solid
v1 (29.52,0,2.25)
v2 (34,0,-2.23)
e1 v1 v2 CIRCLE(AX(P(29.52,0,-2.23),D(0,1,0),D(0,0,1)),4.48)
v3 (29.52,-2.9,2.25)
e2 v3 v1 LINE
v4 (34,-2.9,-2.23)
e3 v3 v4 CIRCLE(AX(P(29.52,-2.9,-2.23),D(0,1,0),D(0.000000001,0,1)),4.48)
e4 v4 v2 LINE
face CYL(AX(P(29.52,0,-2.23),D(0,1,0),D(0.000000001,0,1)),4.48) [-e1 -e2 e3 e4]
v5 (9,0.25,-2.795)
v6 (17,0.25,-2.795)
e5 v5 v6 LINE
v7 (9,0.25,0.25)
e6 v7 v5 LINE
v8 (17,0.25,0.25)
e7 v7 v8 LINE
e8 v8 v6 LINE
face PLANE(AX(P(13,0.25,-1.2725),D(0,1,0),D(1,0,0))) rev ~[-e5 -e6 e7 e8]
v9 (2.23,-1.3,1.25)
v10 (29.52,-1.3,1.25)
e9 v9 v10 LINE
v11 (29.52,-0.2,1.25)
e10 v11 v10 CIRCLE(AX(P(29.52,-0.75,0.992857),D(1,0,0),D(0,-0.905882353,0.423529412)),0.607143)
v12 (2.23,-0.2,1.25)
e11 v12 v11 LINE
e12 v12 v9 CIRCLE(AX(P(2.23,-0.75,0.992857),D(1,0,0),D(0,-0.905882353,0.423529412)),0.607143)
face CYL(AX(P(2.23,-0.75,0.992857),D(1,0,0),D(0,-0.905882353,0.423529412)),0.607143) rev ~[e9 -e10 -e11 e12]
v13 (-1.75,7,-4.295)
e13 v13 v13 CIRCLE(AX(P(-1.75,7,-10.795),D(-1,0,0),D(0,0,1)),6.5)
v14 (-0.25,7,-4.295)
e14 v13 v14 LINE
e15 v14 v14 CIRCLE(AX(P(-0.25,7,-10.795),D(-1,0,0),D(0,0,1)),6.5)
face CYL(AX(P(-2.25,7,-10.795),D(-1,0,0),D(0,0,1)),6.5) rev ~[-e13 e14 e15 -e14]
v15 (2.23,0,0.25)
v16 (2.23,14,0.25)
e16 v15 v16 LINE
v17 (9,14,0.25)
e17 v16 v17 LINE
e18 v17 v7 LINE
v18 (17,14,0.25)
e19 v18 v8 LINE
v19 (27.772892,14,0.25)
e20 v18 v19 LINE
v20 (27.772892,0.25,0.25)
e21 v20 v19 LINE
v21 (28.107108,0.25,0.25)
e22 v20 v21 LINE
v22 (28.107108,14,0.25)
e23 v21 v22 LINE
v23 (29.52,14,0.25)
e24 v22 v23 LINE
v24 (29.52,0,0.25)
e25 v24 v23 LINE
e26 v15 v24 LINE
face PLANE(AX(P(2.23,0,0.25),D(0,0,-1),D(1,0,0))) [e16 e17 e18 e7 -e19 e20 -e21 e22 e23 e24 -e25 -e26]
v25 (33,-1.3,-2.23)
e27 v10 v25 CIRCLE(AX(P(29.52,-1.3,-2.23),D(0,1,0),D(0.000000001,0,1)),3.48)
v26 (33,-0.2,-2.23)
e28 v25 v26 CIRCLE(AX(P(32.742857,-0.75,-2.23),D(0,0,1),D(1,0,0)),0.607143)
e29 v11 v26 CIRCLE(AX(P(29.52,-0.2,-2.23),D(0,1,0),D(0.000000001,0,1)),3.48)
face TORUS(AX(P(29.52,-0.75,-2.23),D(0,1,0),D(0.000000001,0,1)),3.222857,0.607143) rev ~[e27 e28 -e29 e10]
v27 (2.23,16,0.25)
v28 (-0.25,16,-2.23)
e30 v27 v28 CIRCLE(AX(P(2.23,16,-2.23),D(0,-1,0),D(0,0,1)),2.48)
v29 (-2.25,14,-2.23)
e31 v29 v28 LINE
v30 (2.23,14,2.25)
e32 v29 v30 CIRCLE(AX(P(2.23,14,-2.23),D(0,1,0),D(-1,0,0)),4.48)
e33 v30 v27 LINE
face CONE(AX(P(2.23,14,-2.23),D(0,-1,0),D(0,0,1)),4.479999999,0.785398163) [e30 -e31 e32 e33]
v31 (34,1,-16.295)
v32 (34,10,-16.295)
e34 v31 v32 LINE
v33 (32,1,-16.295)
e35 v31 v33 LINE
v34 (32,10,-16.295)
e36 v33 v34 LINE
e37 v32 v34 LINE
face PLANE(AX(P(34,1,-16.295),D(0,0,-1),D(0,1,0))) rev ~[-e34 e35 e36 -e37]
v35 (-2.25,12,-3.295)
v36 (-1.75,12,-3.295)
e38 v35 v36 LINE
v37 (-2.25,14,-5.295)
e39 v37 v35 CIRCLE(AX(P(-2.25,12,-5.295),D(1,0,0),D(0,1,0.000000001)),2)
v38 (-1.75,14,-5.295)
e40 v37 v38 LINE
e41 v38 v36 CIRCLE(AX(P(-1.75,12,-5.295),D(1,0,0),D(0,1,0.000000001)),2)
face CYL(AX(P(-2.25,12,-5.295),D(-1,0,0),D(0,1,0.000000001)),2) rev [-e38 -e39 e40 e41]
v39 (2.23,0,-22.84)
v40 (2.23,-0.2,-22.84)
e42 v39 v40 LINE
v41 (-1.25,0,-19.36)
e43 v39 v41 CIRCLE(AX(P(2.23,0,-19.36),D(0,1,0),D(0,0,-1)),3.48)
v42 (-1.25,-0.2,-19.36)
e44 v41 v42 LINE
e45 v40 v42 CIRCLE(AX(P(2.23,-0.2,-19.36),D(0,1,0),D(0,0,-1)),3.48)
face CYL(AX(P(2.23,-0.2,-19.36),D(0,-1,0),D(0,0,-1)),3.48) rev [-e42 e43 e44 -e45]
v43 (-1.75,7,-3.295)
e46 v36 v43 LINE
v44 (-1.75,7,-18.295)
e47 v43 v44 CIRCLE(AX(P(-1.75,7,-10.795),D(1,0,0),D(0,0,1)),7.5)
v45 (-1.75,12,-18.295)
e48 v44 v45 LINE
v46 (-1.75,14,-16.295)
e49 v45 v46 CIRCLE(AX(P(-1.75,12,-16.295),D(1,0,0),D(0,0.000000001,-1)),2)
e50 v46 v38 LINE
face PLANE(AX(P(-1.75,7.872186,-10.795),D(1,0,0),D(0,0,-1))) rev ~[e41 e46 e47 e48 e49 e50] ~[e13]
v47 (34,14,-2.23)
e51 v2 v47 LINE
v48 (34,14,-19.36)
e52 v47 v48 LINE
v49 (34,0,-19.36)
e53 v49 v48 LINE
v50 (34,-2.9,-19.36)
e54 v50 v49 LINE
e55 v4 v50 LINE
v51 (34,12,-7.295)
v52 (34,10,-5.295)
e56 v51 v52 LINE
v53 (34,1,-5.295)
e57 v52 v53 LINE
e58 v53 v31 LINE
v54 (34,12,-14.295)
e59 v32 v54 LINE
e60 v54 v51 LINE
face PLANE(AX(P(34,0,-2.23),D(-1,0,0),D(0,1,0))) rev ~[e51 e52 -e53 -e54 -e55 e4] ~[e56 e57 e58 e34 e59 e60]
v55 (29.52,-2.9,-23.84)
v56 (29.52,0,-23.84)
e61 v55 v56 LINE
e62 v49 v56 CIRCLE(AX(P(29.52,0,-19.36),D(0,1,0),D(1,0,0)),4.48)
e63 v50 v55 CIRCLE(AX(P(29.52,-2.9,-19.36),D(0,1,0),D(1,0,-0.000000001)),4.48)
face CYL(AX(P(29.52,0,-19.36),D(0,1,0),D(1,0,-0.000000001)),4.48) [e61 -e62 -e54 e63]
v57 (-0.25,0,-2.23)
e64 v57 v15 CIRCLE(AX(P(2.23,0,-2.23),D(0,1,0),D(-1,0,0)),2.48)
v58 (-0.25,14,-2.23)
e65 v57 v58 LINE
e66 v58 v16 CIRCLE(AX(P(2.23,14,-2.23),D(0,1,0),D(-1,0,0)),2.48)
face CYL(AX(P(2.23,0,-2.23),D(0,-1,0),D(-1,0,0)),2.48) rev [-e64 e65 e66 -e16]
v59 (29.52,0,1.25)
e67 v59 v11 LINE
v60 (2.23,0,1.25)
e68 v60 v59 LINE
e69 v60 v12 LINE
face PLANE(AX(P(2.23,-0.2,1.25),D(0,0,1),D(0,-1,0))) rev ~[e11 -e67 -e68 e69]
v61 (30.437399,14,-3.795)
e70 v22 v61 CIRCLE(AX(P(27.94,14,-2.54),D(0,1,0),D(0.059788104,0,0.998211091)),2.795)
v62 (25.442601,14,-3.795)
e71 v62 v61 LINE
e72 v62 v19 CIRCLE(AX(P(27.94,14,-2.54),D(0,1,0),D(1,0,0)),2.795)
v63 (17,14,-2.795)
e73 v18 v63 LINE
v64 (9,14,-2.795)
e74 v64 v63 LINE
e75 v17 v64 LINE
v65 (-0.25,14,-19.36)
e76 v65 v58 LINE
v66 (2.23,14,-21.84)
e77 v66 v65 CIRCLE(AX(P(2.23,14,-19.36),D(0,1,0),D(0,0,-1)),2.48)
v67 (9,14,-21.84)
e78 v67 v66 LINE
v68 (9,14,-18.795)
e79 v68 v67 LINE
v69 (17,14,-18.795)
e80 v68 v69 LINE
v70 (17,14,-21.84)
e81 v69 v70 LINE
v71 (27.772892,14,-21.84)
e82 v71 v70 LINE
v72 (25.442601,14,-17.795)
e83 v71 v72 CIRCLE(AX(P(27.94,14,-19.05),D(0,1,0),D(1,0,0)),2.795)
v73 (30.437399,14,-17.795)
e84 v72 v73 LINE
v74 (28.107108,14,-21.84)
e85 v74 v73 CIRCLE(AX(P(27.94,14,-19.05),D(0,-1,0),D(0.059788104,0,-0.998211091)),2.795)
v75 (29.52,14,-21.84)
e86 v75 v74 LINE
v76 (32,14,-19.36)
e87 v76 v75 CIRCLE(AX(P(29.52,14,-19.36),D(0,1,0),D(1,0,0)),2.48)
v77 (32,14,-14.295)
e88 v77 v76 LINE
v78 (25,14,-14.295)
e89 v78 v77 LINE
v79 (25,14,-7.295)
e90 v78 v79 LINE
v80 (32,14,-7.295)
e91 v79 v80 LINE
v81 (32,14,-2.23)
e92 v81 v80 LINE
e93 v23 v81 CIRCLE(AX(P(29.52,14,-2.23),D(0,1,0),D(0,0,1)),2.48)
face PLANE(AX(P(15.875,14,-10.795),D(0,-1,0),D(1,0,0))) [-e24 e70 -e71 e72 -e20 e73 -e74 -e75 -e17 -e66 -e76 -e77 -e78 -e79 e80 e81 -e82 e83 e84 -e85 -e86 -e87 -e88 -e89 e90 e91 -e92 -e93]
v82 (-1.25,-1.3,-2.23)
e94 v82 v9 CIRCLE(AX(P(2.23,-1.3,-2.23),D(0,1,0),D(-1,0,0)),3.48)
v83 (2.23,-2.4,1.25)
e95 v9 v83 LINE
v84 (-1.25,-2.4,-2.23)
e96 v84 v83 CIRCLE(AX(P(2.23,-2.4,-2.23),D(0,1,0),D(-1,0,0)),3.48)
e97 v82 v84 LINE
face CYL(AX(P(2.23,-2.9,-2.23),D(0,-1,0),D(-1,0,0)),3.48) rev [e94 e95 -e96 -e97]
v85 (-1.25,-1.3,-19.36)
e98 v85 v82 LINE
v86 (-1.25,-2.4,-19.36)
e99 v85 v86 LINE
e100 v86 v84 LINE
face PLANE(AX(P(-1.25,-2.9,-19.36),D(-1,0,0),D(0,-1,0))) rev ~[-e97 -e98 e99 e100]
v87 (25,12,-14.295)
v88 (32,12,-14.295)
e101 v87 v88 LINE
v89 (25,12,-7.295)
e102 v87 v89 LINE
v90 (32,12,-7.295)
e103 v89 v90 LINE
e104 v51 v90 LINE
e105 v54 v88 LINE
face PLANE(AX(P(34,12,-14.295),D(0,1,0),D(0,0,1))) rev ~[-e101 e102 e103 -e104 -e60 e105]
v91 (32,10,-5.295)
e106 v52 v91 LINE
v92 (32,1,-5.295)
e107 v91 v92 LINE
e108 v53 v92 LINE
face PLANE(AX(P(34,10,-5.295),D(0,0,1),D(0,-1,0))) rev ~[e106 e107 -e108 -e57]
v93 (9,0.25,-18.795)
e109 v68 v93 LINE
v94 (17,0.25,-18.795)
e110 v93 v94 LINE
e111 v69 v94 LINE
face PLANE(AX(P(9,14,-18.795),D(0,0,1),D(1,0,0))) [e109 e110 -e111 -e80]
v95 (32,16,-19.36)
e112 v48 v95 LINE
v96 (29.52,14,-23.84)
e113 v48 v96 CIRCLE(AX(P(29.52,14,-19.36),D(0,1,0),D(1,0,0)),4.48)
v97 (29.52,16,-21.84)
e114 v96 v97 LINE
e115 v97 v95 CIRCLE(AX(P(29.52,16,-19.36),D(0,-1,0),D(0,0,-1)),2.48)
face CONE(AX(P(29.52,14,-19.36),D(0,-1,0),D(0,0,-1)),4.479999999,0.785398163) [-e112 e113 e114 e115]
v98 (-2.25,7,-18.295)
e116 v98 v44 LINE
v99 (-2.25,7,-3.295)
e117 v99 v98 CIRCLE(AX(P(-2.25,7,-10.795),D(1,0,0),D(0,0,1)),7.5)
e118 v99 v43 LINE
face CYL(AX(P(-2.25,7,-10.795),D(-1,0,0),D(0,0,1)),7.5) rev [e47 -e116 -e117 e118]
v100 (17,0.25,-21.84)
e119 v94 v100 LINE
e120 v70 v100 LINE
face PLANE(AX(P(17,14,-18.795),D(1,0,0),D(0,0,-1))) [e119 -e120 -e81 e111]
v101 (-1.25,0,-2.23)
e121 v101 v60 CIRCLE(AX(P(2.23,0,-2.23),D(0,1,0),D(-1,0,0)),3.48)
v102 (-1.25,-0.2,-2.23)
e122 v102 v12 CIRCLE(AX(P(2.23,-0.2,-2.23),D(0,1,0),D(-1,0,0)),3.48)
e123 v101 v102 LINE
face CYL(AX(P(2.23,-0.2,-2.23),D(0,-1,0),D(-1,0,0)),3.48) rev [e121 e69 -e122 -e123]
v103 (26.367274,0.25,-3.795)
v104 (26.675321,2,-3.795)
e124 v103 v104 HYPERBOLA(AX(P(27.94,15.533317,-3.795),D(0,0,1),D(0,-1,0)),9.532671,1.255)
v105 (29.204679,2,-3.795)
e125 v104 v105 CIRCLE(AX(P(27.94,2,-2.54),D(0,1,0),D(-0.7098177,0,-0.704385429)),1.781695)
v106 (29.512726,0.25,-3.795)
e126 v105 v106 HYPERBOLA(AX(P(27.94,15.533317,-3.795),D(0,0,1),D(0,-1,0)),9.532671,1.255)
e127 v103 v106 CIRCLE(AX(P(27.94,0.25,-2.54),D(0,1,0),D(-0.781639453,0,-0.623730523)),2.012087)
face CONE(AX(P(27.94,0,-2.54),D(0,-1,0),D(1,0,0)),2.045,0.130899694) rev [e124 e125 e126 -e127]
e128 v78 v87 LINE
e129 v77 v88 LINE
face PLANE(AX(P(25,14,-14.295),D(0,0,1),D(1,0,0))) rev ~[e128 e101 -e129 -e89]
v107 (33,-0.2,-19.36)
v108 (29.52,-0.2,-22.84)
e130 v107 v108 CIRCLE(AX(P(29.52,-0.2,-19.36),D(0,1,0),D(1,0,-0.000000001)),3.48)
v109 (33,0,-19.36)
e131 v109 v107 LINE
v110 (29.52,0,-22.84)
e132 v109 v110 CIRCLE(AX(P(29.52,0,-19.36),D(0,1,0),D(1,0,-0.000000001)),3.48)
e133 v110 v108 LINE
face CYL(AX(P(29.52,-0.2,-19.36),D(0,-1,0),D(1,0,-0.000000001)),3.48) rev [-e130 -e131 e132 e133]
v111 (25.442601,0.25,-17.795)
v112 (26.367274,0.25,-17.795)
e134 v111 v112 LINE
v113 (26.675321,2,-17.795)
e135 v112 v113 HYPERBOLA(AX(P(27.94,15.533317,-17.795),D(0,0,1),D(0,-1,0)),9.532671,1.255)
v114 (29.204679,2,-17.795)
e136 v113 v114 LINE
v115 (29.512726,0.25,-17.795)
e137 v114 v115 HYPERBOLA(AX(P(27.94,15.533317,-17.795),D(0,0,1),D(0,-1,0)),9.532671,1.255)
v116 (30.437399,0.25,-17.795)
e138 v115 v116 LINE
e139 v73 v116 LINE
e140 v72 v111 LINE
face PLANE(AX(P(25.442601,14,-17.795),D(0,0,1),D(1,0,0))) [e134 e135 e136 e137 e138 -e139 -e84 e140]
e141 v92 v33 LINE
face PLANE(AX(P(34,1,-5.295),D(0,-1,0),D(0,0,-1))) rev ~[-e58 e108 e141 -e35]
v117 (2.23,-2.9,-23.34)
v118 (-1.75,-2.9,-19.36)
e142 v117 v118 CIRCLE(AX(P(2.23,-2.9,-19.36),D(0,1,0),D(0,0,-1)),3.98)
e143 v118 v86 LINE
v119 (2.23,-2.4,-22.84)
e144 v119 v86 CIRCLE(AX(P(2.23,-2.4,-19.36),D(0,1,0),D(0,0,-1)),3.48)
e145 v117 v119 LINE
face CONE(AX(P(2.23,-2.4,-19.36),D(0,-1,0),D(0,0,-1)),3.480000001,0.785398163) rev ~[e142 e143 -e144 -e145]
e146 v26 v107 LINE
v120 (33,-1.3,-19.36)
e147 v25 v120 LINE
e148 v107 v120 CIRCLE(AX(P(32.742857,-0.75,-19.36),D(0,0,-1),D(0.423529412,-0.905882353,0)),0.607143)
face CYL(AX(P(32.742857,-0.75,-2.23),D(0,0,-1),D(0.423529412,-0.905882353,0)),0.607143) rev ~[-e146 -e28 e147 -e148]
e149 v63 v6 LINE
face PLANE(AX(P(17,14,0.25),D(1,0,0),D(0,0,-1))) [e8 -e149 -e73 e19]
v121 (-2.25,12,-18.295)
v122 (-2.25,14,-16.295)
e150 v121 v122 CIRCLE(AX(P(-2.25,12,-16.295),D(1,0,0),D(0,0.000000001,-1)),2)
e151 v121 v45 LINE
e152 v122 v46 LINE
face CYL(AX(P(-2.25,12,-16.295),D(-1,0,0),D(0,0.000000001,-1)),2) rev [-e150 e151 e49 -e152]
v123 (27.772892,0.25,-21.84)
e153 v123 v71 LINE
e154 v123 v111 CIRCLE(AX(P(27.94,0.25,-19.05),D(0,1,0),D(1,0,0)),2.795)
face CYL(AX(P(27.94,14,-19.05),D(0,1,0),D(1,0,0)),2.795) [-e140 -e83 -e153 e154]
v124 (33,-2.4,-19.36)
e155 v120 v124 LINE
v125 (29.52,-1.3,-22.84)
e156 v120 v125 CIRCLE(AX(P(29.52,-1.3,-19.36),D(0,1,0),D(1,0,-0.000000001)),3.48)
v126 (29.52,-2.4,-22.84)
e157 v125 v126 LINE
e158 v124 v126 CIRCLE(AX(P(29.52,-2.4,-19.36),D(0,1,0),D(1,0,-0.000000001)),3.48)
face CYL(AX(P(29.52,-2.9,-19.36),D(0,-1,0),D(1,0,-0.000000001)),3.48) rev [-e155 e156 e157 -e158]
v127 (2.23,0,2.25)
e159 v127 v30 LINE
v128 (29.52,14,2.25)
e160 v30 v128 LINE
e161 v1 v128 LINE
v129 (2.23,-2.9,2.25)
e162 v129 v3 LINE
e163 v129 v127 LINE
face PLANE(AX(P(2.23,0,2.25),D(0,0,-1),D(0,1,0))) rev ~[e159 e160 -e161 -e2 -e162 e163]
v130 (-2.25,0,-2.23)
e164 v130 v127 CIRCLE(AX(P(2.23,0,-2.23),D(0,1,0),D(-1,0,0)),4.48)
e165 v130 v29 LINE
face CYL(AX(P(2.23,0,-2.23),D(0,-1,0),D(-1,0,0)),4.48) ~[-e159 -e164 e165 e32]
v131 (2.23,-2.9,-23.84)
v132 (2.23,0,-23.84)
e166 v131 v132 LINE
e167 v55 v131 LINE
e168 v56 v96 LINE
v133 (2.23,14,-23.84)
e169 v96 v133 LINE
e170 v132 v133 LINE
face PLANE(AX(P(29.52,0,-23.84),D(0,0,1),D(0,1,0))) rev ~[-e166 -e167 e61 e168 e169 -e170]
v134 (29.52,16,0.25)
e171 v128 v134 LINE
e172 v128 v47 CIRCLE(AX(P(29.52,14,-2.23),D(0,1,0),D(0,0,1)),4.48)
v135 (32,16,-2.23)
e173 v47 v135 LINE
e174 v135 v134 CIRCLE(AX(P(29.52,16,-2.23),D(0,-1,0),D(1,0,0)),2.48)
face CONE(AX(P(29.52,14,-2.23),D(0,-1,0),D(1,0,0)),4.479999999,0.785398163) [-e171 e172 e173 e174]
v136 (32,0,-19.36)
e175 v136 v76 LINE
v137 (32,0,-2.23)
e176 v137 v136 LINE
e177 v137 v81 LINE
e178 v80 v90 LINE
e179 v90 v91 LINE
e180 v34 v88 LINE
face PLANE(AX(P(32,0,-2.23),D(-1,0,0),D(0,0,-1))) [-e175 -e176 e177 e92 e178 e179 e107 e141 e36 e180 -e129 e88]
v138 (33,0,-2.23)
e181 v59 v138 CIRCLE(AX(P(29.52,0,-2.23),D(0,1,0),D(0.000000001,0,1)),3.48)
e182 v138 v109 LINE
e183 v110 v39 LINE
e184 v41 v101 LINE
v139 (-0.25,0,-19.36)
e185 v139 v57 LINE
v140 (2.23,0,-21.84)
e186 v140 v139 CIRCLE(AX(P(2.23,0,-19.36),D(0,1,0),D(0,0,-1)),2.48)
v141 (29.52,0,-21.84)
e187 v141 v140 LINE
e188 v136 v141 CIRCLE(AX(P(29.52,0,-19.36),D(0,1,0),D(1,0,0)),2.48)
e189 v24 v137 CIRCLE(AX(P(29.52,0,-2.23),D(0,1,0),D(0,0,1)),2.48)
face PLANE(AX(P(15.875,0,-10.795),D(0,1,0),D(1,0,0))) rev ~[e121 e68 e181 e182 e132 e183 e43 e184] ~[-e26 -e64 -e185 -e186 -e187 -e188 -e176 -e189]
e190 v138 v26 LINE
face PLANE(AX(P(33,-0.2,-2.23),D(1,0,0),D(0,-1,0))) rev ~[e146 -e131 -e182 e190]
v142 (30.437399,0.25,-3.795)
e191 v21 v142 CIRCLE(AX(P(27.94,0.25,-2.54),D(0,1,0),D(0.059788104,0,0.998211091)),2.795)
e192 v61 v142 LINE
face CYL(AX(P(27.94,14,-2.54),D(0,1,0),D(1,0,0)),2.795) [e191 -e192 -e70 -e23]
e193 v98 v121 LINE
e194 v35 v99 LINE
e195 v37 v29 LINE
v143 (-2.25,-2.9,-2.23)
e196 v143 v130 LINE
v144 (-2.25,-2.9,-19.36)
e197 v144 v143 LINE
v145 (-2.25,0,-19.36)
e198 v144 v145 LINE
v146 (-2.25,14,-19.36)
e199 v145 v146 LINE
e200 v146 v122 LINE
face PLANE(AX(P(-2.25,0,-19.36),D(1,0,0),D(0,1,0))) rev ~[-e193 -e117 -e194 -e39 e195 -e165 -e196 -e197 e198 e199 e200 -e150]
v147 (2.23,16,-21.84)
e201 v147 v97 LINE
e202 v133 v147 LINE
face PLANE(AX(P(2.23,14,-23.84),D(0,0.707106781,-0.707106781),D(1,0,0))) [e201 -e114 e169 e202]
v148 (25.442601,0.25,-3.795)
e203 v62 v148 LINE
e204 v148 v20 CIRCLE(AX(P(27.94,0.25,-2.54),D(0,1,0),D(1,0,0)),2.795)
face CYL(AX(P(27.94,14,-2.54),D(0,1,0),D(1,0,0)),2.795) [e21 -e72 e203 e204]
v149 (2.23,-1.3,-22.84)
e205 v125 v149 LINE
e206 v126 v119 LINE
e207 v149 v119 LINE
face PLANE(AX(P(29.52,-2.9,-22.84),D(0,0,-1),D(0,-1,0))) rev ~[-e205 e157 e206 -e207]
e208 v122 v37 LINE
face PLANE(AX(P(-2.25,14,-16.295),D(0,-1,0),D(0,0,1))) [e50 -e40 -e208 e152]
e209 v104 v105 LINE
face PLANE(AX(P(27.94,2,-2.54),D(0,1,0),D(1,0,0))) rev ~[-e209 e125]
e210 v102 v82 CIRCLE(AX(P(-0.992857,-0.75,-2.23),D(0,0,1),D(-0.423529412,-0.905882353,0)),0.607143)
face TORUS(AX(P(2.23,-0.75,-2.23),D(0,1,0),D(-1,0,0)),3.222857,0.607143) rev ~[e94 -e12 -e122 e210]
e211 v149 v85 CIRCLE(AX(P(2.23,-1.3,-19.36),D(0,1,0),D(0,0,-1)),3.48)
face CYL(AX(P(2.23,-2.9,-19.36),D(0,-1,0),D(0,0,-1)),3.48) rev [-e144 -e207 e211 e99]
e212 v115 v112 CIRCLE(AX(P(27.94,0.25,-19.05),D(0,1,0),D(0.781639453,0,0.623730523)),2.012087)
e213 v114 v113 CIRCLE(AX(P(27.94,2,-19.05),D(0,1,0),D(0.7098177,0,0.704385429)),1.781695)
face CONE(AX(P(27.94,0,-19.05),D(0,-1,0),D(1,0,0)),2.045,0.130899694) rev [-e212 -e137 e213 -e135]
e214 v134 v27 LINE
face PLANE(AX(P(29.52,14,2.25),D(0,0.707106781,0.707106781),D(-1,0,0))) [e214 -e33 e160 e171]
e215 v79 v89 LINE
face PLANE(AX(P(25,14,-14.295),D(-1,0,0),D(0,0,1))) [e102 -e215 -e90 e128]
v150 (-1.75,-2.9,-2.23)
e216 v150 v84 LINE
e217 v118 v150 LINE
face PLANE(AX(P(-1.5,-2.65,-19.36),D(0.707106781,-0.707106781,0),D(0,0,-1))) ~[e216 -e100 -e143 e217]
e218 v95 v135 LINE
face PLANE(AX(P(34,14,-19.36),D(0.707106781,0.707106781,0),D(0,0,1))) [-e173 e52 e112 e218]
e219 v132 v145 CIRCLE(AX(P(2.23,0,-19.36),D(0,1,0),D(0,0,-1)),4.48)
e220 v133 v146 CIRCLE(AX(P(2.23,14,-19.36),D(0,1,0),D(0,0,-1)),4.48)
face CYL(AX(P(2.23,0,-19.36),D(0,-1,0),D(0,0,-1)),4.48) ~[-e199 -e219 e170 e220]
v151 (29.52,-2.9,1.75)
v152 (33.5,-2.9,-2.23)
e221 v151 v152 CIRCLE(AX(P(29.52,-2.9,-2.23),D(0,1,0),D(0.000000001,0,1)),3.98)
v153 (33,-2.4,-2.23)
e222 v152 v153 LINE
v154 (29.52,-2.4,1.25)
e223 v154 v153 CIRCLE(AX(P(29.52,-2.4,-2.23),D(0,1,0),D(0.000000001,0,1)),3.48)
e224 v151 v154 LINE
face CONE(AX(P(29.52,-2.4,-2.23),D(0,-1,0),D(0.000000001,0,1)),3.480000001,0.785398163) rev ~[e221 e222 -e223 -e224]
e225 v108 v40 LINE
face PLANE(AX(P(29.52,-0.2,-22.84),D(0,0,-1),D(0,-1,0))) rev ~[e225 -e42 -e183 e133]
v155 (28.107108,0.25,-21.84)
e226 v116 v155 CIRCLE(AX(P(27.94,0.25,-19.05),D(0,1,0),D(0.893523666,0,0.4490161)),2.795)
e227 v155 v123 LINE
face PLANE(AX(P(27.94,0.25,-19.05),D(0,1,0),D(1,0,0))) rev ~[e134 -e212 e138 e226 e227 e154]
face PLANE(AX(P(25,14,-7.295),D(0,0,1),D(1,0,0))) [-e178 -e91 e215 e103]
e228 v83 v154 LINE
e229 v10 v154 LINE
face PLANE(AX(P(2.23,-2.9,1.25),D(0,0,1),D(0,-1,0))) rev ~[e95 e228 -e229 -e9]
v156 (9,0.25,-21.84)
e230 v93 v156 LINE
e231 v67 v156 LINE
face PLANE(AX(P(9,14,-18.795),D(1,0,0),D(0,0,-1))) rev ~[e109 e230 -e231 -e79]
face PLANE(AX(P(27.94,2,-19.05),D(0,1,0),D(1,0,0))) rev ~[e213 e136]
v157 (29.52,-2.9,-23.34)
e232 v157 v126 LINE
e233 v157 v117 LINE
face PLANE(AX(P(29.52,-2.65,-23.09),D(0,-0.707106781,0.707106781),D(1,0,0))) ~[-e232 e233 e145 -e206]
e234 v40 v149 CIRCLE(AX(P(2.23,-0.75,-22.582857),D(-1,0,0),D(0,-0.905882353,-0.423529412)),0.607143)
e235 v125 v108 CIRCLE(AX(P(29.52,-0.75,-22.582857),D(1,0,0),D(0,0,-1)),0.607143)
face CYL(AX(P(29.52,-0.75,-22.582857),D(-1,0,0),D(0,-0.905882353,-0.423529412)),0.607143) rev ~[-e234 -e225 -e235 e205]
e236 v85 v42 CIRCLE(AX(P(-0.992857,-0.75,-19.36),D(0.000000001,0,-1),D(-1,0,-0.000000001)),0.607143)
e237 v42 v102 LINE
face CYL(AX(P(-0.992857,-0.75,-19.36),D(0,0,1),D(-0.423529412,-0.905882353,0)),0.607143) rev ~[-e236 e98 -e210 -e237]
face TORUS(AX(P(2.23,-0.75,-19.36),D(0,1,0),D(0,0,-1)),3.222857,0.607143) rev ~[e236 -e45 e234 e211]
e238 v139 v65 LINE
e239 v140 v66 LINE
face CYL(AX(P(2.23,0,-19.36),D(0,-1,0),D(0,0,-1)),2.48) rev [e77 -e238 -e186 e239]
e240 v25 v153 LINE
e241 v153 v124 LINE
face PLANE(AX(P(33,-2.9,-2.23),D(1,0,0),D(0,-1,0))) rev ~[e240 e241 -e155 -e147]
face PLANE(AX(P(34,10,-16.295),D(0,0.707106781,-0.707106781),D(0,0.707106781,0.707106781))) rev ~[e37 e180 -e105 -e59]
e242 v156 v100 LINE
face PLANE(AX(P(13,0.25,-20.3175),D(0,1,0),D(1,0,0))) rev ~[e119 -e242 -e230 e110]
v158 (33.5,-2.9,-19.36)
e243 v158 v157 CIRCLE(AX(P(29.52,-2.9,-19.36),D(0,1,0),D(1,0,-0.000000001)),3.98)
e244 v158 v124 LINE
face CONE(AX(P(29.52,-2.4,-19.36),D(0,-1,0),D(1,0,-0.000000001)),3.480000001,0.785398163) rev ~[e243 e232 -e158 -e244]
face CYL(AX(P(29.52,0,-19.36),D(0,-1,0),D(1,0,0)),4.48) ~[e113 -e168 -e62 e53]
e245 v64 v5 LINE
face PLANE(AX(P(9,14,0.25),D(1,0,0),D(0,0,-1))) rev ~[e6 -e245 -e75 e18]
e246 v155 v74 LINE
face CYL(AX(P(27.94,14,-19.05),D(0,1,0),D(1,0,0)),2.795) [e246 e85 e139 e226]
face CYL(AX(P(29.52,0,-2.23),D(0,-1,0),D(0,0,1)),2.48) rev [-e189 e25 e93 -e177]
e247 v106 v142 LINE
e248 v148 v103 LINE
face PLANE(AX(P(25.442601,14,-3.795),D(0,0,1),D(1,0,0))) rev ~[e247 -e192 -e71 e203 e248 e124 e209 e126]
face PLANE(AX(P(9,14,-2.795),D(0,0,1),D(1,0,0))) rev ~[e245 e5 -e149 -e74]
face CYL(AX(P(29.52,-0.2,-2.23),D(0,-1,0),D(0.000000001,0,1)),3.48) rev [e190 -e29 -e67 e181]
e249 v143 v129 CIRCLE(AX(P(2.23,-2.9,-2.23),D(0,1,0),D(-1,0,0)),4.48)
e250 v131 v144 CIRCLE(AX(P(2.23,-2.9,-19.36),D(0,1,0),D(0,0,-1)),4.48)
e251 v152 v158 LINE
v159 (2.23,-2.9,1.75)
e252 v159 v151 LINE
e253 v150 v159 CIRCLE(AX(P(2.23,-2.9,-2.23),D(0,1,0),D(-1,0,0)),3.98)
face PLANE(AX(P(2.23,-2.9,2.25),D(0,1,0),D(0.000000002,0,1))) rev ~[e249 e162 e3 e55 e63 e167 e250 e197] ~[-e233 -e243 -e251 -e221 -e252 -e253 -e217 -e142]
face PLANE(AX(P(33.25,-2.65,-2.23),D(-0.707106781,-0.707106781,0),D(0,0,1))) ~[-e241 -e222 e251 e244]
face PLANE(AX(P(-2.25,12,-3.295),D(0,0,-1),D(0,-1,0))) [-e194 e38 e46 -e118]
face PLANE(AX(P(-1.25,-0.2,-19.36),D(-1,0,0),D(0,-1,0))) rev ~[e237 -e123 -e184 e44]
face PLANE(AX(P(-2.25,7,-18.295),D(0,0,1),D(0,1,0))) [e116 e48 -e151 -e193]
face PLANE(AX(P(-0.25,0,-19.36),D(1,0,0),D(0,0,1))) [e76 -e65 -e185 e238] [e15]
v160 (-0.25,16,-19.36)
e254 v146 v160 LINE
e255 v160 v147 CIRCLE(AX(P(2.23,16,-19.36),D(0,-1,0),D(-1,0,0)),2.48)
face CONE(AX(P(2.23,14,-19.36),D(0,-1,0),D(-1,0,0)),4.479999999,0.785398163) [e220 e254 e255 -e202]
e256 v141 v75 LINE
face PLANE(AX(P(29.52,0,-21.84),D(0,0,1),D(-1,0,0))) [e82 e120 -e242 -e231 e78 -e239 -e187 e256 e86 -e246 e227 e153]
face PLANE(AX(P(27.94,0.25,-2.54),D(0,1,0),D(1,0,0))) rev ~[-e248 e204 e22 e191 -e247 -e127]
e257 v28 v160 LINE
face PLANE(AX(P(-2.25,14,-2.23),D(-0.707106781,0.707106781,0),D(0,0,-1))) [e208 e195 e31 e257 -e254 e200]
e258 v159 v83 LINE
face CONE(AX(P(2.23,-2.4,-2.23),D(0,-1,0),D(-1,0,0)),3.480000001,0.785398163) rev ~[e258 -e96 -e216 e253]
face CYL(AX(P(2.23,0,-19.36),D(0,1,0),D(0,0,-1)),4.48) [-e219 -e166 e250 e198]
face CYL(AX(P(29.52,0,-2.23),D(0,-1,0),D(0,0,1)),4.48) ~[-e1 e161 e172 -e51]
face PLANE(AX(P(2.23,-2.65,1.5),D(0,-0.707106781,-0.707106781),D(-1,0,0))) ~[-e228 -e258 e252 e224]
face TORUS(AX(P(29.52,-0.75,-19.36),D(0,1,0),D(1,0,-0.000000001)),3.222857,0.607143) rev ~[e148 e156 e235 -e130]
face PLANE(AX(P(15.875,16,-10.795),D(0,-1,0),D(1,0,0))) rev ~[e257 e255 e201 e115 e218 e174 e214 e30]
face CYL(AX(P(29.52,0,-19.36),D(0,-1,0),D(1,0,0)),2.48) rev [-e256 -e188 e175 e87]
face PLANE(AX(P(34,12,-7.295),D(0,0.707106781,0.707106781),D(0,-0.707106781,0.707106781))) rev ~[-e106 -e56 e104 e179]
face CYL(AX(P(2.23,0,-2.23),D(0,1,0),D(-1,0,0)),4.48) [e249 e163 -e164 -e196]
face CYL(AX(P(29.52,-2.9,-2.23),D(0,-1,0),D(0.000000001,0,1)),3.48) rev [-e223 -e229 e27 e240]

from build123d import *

# Parameters (mm, degrees)
MAIN_EXTRUSION_DEPTH             = 14
TAPERED_BOTTOM_DEPTH             = 2
TAPERED_BOTTOM_DRAFT             = -45
SKETCH4_R                        = 2.795
SKETCH4_W                        = 8
SKETCH4_H                        = 3.045
PCB_SUPPORT_DEPTH                = 13.75
SKETCH5_R                        = 2.045
GUIDE_PIN_CUTOUT_DEPTH           = 2
GUIDE_PIN_CUTOUT_DRAFT           = 7.5
GUIDE_PIN_CUTOUT_PROFILE_2_DEPTH = 2
GUIDE_PIN_CUTOUT_PROFILE_2_DRAFT = 7.5
SKETCH12_W                       = 4.994797294
SKETCH12_H                       = 14
CUT_EXTRUDE6_DEPTH               = 13.75
SKETCH11_W                       = 7
SKETCH11_H                       = 7
BOSS_EXTRUDE1_DEPTH              = 2
CUT_EXTRUDE2_REACH               = 48.243
SKETCH8_R                        = 6.5
CUT_EXTRUDE4_DEPTH               = 0.5
CUT_EXTRUDE5_REACH               = 48.243
CHAMFER1_SIZE                    = 0.5


with BuildPart() as part:
    # Sketch2 → main-extrusion (new body)
    with BuildSketch(Plane(origin=(0, 0, 0), x_dir=(1, 0, 0), z_dir=(0, 1, 0))):
        with BuildLine():
            Line((-2.25, 19.36), (-2.25, 2.23))
            ThreePointArc((-2.25, 2.23), (-0.93783838, -0.93783838), (2.23, -2.25))
            Line((2.23, -2.25), (29.52, -2.25))
            ThreePointArc((29.52, -2.25), (32.68783838, -0.93783838), (34, 2.23))
            Line((34, 2.23), (34, 19.36))
            ThreePointArc((34, 19.36), (32.68783838, 22.52783838), (29.52, 23.84))
            Line((29.52, 23.84), (2.23, 23.84))
            ThreePointArc((2.23, 23.84), (-0.93783838, 22.52783838), (-2.25, 19.36))
        make_face()
        with BuildLine():
            Line((-0.25, 19.36), (-0.25, 2.23))
            ThreePointArc((-0.25, 2.23), (0.476375183, 0.476375183), (2.23, -0.25))
            Line((2.23, -0.25), (29.52, -0.25))
            ThreePointArc((29.52, -0.25), (31.273624817, 0.476375183), (32, 2.23))
            Line((32, 2.23), (32, 19.36))
            ThreePointArc((32, 19.36), (31.273624817, 21.113624817), (29.52, 21.84))
            Line((29.52, 21.84), (2.23, 21.84))
            ThreePointArc((2.23, 21.84), (0.476375183, 21.113624817), (-0.25, 19.36))
        make_face(mode=Mode.SUBTRACT)
    extrude(amount=MAIN_EXTRUSION_DEPTH)


with BuildPart() as tapered_bottom_tool:
    # Sketch3 → tapered-bottom (with draft: the straight prism first)
    with BuildSketch(Plane.XZ.offset(-14)):
        with BuildLine():
            ThreePointArc((-2.25, -19.36), (-0.93783838, -22.52783838), (2.23, -23.84))
            Line((2.23, -23.84), (29.52, -23.84))
            ThreePointArc((29.52, -23.84), (32.68783838, -22.52783838), (34, -19.36))
            Line((34, -19.36), (34, -2.23))
            ThreePointArc((34, -2.23), (32.68783838, 0.93783838), (29.52, 2.25))
            Line((29.52, 2.25), (2.23, 2.25))
            ThreePointArc((2.23, 2.25), (-0.93783838, 0.93783838), (-2.25, -2.23))
            Line((-2.25, -2.23), (-2.25, -19.36))
        make_face()
    extrude(amount=-TAPERED_BOTTOM_DEPTH)
    # tapered-bottom: the draft: its side faces are tilted about the plane it starts from
    tapered_bottom_sides = [tapered_bottom_tool.faces().sort_by_distance(p)[0] for p in [
        (-0.93783838, 15, -22.52783838),
        (15.875, 15, -23.84),
        (32.68783838, 15, -22.52783838),
        (34, 15, -10.795),
        (32.68783838, 15, 0.93783838),
        (15.875, 15, 2.25),
        (-0.93783838, 15, 0.93783838),
        (-2.25, 15, -10.795),
    ]]
    draft(tapered_bottom_sides, Plane.XZ.offset(-14), TAPERED_BOTTOM_DRAFT)


with BuildPart() as part_1:
    add(part.part)

    # tapered-bottom: add tapered_bottom_tool
    add(tapered_bottom_tool.part)

    # Sketch4 → PCB-support (add)
    with BuildSketch(Plane(origin=(0, 14, 0), x_dir=(1, 0, 0), z_dir=(0, 1, 0))):
        with Locations((27.94, 19.05)):
            Circle(SKETCH4_R)
        with Locations((27.94, 2.54)):
            Circle(SKETCH4_R)
        with Locations((13, 20.3175)):
            Rectangle(SKETCH4_W, SKETCH4_H)
        with Locations((13, 1.2725)):
            Rectangle(SKETCH4_W, SKETCH4_H)
    extrude(amount=-PCB_SUPPORT_DEPTH)


with BuildPart() as guide_pin_cutout_tool:
    # Sketch5 → guide-pin-cutout (with draft: the straight prism first)
    with BuildSketch(Plane(origin=(0, 0, 0), x_dir=(1, 0, 0), z_dir=(0, 1, 0))):
        with Locations((27.94, 19.05)):
            Circle(SKETCH5_R)
    extrude(amount=GUIDE_PIN_CUTOUT_DEPTH)
    # guide-pin-cutout: the draft: its side faces are tilted about the plane it starts from
    guide_pin_cutout_sides = [guide_pin_cutout_tool.faces().sort_by_distance(p)[0] for p in [
        (25.895, 1, -19.05),
    ]]
    draft(guide_pin_cutout_sides, Plane(origin=(0, 0, 0), x_dir=(1, 0, 0), z_dir=(0, 1, 0)), GUIDE_PIN_CUTOUT_DRAFT)


with BuildPart() as part_2:
    add(part_1.part)

    # guide-pin-cutout: cut by guide_pin_cutout_tool
    add(guide_pin_cutout_tool.part, mode=Mode.SUBTRACT)


with BuildPart() as guide_pin_cutout_profile_2_tool:
    # Sketch5 → guide-pin-cutout profile 2 (with draft: the straight prism first)
    with BuildSketch(Plane(origin=(0, 0, 0), x_dir=(1, 0, 0), z_dir=(0, 1, 0))):
        with Locations((27.94, 2.54)):
            Circle(SKETCH5_R)
    extrude(amount=GUIDE_PIN_CUTOUT_PROFILE_2_DEPTH)
    # guide-pin-cutout profile 2: the draft: its side faces are tilted about the plane it starts from
    guide_pin_cutout_profile_2_sides = [guide_pin_cutout_profile_2_tool.faces().sort_by_distance(p)[0] for p in [
        (25.895, 1, -2.54),
    ]]
    draft(guide_pin_cutout_profile_2_sides, Plane(origin=(0, 0, 0), x_dir=(1, 0, 0), z_dir=(0, 1, 0)), GUIDE_PIN_CUTOUT_PROFILE_2_DRAFT)


with BuildPart() as part_3:
    add(part_2.part)

    # guide-pin-cutout profile 2: cut by guide_pin_cutout_profile_2_tool
    add(guide_pin_cutout_profile_2_tool.part, mode=Mode.SUBTRACT)

    # Sketch12 → Cut-Extrude6 (cut)
    with BuildSketch(Plane.XZ.offset(-14)):
        with Locations((27.94, -10.795)):
            Rectangle(SKETCH12_W, SKETCH12_H)
    extrude(amount=CUT_EXTRUDE6_DEPTH, mode=Mode.SUBTRACT)

    # Sketch11 → Boss-Extrude1 (add)
    with BuildSketch(Plane.XZ.offset(-14)):
        with Locations((28.5, -10.795)):
            Rectangle(SKETCH11_W, SKETCH11_H)
    extrude(amount=BOSS_EXTRUDE1_DEPTH)

    # top-hook: sweep along a path in path
    with BuildLine(Plane.XZ) as top_hook_path:
        Line((2.23, 0.25), (29.52, 0.25))
        ThreePointArc((29.52, 0.25), (31.273624817, -0.476375183), (32, -2.23))
        Line((32, -2.23), (32, -19.36))
        ThreePointArc((32, -19.36), (31.273624817, -21.113624817), (29.52, -21.84))
        Line((29.52, -21.84), (2.23, -21.84))
        ThreePointArc((2.23, -21.84), (0.476375183, -21.113624817), (-0.25, -19.36))
        Line((-0.25, -19.36), (-0.25, -2.23))
        ThreePointArc((-0.25, -2.23), (0.476375183, -0.476375183), (2.23, 0.25))
    # hook → top-hook (sweep)
    with BuildSketch(Plane(origin=(29.52, 0, 0), x_dir=(0, 0, -1), z_dir=(1, 0, 0))):
        with BuildLine():
            Line((22.84, -2.9), (22.84, -1.3))
            ThreePointArc((22.84, -1.3), (23.19, -0.75), (22.84, -0.2))
            Line((22.84, -0.2), (22.84, 0))
            Line((22.84, 0), (23.84, 0))
            Line((23.84, 0), (23.84, -2.9))
            Line((23.84, -2.9), (22.84, -2.9))
        make_face()
    sweep(path=top_hook_path.line)

    # Sketch8 → Cut-Extrude2 (cut, up to next)
    with BuildSketch(Plane.ZY.offset(2.25), mode=Mode.PRIVATE) as cut_extrude2_sk1:
        with Locations((-10.795, 7)):
            Circle(SKETCH8_R)
    cut_extrude2_tool1 = extrude(cut_extrude2_sk1.sketch, amount=-CUT_EXTRUDE2_REACH, mode=Mode.PRIVATE) & part_3.part
    add(cut_extrude2_tool1.solids().sort_by_distance((-2.25, 7, -10.795))[0], mode=Mode.SUBTRACT)

    # Sketch9 → Cut-Extrude4 (cut)
    with BuildSketch(Plane.ZY.offset(2.25)):
        with BuildLine():
            Line((-18.295, 7), (-18.295, 12))
            ThreePointArc((-18.295, 12), (-17.709213562, 13.414213562), (-16.295, 14))
            Line((-16.295, 14), (-5.295, 14))
            ThreePointArc((-5.295, 14), (-3.880786438, 13.414213562), (-3.295, 12))
            Line((-3.295, 12), (-3.295, 7))
            ThreePointArc((-3.295, 7), (-10.795, -0.5), (-18.295, 7))
        make_face()
    extrude(amount=-CUT_EXTRUDE4_DEPTH, mode=Mode.SUBTRACT)

    # Sketch10 → Cut-Extrude5 (cut, up to next)
    with BuildSketch(Plane(origin=(34, 0, 0), x_dir=(0, 0, -1), z_dir=(1, 0, 0)), mode=Mode.PRIVATE) as cut_extrude5_sk1:
        Polygon((5.295, 1), (16.295, 1), (16.295, 10), (14.295, 12), (7.295, 12), (5.295, 10), align=None)
    cut_extrude5_tool1 = extrude(cut_extrude5_sk1.sketch, amount=-CUT_EXTRUDE5_REACH, mode=Mode.PRIVATE) & part_3.part
    add(cut_extrude5_tool1.solids().sort_by_distance((34, 6.334758, -10.795))[0], mode=Mode.SUBTRACT)

    # Chamfer1
    chamfer1_edges = [part_3.edges().sort_by_distance(p)[0] for p in [
        (15.875, -2.9, -22.84),
        (-0.230731599, -2.9, -21.820731599),
        (-1.25, -2.9, -10.795),
        (-0.230731599, -2.9, 0.230731599),
        (15.875, -2.9, 1.25),
        (31.980731599, -2.9, 0.230731599),
        (33, -2.9, -10.795),
        (31.980731599, -2.9, -21.820731599),
    ]]
    chamfer(chamfer1_edges, length=CHAMFER1_SIZE)


solid = part_3.part
